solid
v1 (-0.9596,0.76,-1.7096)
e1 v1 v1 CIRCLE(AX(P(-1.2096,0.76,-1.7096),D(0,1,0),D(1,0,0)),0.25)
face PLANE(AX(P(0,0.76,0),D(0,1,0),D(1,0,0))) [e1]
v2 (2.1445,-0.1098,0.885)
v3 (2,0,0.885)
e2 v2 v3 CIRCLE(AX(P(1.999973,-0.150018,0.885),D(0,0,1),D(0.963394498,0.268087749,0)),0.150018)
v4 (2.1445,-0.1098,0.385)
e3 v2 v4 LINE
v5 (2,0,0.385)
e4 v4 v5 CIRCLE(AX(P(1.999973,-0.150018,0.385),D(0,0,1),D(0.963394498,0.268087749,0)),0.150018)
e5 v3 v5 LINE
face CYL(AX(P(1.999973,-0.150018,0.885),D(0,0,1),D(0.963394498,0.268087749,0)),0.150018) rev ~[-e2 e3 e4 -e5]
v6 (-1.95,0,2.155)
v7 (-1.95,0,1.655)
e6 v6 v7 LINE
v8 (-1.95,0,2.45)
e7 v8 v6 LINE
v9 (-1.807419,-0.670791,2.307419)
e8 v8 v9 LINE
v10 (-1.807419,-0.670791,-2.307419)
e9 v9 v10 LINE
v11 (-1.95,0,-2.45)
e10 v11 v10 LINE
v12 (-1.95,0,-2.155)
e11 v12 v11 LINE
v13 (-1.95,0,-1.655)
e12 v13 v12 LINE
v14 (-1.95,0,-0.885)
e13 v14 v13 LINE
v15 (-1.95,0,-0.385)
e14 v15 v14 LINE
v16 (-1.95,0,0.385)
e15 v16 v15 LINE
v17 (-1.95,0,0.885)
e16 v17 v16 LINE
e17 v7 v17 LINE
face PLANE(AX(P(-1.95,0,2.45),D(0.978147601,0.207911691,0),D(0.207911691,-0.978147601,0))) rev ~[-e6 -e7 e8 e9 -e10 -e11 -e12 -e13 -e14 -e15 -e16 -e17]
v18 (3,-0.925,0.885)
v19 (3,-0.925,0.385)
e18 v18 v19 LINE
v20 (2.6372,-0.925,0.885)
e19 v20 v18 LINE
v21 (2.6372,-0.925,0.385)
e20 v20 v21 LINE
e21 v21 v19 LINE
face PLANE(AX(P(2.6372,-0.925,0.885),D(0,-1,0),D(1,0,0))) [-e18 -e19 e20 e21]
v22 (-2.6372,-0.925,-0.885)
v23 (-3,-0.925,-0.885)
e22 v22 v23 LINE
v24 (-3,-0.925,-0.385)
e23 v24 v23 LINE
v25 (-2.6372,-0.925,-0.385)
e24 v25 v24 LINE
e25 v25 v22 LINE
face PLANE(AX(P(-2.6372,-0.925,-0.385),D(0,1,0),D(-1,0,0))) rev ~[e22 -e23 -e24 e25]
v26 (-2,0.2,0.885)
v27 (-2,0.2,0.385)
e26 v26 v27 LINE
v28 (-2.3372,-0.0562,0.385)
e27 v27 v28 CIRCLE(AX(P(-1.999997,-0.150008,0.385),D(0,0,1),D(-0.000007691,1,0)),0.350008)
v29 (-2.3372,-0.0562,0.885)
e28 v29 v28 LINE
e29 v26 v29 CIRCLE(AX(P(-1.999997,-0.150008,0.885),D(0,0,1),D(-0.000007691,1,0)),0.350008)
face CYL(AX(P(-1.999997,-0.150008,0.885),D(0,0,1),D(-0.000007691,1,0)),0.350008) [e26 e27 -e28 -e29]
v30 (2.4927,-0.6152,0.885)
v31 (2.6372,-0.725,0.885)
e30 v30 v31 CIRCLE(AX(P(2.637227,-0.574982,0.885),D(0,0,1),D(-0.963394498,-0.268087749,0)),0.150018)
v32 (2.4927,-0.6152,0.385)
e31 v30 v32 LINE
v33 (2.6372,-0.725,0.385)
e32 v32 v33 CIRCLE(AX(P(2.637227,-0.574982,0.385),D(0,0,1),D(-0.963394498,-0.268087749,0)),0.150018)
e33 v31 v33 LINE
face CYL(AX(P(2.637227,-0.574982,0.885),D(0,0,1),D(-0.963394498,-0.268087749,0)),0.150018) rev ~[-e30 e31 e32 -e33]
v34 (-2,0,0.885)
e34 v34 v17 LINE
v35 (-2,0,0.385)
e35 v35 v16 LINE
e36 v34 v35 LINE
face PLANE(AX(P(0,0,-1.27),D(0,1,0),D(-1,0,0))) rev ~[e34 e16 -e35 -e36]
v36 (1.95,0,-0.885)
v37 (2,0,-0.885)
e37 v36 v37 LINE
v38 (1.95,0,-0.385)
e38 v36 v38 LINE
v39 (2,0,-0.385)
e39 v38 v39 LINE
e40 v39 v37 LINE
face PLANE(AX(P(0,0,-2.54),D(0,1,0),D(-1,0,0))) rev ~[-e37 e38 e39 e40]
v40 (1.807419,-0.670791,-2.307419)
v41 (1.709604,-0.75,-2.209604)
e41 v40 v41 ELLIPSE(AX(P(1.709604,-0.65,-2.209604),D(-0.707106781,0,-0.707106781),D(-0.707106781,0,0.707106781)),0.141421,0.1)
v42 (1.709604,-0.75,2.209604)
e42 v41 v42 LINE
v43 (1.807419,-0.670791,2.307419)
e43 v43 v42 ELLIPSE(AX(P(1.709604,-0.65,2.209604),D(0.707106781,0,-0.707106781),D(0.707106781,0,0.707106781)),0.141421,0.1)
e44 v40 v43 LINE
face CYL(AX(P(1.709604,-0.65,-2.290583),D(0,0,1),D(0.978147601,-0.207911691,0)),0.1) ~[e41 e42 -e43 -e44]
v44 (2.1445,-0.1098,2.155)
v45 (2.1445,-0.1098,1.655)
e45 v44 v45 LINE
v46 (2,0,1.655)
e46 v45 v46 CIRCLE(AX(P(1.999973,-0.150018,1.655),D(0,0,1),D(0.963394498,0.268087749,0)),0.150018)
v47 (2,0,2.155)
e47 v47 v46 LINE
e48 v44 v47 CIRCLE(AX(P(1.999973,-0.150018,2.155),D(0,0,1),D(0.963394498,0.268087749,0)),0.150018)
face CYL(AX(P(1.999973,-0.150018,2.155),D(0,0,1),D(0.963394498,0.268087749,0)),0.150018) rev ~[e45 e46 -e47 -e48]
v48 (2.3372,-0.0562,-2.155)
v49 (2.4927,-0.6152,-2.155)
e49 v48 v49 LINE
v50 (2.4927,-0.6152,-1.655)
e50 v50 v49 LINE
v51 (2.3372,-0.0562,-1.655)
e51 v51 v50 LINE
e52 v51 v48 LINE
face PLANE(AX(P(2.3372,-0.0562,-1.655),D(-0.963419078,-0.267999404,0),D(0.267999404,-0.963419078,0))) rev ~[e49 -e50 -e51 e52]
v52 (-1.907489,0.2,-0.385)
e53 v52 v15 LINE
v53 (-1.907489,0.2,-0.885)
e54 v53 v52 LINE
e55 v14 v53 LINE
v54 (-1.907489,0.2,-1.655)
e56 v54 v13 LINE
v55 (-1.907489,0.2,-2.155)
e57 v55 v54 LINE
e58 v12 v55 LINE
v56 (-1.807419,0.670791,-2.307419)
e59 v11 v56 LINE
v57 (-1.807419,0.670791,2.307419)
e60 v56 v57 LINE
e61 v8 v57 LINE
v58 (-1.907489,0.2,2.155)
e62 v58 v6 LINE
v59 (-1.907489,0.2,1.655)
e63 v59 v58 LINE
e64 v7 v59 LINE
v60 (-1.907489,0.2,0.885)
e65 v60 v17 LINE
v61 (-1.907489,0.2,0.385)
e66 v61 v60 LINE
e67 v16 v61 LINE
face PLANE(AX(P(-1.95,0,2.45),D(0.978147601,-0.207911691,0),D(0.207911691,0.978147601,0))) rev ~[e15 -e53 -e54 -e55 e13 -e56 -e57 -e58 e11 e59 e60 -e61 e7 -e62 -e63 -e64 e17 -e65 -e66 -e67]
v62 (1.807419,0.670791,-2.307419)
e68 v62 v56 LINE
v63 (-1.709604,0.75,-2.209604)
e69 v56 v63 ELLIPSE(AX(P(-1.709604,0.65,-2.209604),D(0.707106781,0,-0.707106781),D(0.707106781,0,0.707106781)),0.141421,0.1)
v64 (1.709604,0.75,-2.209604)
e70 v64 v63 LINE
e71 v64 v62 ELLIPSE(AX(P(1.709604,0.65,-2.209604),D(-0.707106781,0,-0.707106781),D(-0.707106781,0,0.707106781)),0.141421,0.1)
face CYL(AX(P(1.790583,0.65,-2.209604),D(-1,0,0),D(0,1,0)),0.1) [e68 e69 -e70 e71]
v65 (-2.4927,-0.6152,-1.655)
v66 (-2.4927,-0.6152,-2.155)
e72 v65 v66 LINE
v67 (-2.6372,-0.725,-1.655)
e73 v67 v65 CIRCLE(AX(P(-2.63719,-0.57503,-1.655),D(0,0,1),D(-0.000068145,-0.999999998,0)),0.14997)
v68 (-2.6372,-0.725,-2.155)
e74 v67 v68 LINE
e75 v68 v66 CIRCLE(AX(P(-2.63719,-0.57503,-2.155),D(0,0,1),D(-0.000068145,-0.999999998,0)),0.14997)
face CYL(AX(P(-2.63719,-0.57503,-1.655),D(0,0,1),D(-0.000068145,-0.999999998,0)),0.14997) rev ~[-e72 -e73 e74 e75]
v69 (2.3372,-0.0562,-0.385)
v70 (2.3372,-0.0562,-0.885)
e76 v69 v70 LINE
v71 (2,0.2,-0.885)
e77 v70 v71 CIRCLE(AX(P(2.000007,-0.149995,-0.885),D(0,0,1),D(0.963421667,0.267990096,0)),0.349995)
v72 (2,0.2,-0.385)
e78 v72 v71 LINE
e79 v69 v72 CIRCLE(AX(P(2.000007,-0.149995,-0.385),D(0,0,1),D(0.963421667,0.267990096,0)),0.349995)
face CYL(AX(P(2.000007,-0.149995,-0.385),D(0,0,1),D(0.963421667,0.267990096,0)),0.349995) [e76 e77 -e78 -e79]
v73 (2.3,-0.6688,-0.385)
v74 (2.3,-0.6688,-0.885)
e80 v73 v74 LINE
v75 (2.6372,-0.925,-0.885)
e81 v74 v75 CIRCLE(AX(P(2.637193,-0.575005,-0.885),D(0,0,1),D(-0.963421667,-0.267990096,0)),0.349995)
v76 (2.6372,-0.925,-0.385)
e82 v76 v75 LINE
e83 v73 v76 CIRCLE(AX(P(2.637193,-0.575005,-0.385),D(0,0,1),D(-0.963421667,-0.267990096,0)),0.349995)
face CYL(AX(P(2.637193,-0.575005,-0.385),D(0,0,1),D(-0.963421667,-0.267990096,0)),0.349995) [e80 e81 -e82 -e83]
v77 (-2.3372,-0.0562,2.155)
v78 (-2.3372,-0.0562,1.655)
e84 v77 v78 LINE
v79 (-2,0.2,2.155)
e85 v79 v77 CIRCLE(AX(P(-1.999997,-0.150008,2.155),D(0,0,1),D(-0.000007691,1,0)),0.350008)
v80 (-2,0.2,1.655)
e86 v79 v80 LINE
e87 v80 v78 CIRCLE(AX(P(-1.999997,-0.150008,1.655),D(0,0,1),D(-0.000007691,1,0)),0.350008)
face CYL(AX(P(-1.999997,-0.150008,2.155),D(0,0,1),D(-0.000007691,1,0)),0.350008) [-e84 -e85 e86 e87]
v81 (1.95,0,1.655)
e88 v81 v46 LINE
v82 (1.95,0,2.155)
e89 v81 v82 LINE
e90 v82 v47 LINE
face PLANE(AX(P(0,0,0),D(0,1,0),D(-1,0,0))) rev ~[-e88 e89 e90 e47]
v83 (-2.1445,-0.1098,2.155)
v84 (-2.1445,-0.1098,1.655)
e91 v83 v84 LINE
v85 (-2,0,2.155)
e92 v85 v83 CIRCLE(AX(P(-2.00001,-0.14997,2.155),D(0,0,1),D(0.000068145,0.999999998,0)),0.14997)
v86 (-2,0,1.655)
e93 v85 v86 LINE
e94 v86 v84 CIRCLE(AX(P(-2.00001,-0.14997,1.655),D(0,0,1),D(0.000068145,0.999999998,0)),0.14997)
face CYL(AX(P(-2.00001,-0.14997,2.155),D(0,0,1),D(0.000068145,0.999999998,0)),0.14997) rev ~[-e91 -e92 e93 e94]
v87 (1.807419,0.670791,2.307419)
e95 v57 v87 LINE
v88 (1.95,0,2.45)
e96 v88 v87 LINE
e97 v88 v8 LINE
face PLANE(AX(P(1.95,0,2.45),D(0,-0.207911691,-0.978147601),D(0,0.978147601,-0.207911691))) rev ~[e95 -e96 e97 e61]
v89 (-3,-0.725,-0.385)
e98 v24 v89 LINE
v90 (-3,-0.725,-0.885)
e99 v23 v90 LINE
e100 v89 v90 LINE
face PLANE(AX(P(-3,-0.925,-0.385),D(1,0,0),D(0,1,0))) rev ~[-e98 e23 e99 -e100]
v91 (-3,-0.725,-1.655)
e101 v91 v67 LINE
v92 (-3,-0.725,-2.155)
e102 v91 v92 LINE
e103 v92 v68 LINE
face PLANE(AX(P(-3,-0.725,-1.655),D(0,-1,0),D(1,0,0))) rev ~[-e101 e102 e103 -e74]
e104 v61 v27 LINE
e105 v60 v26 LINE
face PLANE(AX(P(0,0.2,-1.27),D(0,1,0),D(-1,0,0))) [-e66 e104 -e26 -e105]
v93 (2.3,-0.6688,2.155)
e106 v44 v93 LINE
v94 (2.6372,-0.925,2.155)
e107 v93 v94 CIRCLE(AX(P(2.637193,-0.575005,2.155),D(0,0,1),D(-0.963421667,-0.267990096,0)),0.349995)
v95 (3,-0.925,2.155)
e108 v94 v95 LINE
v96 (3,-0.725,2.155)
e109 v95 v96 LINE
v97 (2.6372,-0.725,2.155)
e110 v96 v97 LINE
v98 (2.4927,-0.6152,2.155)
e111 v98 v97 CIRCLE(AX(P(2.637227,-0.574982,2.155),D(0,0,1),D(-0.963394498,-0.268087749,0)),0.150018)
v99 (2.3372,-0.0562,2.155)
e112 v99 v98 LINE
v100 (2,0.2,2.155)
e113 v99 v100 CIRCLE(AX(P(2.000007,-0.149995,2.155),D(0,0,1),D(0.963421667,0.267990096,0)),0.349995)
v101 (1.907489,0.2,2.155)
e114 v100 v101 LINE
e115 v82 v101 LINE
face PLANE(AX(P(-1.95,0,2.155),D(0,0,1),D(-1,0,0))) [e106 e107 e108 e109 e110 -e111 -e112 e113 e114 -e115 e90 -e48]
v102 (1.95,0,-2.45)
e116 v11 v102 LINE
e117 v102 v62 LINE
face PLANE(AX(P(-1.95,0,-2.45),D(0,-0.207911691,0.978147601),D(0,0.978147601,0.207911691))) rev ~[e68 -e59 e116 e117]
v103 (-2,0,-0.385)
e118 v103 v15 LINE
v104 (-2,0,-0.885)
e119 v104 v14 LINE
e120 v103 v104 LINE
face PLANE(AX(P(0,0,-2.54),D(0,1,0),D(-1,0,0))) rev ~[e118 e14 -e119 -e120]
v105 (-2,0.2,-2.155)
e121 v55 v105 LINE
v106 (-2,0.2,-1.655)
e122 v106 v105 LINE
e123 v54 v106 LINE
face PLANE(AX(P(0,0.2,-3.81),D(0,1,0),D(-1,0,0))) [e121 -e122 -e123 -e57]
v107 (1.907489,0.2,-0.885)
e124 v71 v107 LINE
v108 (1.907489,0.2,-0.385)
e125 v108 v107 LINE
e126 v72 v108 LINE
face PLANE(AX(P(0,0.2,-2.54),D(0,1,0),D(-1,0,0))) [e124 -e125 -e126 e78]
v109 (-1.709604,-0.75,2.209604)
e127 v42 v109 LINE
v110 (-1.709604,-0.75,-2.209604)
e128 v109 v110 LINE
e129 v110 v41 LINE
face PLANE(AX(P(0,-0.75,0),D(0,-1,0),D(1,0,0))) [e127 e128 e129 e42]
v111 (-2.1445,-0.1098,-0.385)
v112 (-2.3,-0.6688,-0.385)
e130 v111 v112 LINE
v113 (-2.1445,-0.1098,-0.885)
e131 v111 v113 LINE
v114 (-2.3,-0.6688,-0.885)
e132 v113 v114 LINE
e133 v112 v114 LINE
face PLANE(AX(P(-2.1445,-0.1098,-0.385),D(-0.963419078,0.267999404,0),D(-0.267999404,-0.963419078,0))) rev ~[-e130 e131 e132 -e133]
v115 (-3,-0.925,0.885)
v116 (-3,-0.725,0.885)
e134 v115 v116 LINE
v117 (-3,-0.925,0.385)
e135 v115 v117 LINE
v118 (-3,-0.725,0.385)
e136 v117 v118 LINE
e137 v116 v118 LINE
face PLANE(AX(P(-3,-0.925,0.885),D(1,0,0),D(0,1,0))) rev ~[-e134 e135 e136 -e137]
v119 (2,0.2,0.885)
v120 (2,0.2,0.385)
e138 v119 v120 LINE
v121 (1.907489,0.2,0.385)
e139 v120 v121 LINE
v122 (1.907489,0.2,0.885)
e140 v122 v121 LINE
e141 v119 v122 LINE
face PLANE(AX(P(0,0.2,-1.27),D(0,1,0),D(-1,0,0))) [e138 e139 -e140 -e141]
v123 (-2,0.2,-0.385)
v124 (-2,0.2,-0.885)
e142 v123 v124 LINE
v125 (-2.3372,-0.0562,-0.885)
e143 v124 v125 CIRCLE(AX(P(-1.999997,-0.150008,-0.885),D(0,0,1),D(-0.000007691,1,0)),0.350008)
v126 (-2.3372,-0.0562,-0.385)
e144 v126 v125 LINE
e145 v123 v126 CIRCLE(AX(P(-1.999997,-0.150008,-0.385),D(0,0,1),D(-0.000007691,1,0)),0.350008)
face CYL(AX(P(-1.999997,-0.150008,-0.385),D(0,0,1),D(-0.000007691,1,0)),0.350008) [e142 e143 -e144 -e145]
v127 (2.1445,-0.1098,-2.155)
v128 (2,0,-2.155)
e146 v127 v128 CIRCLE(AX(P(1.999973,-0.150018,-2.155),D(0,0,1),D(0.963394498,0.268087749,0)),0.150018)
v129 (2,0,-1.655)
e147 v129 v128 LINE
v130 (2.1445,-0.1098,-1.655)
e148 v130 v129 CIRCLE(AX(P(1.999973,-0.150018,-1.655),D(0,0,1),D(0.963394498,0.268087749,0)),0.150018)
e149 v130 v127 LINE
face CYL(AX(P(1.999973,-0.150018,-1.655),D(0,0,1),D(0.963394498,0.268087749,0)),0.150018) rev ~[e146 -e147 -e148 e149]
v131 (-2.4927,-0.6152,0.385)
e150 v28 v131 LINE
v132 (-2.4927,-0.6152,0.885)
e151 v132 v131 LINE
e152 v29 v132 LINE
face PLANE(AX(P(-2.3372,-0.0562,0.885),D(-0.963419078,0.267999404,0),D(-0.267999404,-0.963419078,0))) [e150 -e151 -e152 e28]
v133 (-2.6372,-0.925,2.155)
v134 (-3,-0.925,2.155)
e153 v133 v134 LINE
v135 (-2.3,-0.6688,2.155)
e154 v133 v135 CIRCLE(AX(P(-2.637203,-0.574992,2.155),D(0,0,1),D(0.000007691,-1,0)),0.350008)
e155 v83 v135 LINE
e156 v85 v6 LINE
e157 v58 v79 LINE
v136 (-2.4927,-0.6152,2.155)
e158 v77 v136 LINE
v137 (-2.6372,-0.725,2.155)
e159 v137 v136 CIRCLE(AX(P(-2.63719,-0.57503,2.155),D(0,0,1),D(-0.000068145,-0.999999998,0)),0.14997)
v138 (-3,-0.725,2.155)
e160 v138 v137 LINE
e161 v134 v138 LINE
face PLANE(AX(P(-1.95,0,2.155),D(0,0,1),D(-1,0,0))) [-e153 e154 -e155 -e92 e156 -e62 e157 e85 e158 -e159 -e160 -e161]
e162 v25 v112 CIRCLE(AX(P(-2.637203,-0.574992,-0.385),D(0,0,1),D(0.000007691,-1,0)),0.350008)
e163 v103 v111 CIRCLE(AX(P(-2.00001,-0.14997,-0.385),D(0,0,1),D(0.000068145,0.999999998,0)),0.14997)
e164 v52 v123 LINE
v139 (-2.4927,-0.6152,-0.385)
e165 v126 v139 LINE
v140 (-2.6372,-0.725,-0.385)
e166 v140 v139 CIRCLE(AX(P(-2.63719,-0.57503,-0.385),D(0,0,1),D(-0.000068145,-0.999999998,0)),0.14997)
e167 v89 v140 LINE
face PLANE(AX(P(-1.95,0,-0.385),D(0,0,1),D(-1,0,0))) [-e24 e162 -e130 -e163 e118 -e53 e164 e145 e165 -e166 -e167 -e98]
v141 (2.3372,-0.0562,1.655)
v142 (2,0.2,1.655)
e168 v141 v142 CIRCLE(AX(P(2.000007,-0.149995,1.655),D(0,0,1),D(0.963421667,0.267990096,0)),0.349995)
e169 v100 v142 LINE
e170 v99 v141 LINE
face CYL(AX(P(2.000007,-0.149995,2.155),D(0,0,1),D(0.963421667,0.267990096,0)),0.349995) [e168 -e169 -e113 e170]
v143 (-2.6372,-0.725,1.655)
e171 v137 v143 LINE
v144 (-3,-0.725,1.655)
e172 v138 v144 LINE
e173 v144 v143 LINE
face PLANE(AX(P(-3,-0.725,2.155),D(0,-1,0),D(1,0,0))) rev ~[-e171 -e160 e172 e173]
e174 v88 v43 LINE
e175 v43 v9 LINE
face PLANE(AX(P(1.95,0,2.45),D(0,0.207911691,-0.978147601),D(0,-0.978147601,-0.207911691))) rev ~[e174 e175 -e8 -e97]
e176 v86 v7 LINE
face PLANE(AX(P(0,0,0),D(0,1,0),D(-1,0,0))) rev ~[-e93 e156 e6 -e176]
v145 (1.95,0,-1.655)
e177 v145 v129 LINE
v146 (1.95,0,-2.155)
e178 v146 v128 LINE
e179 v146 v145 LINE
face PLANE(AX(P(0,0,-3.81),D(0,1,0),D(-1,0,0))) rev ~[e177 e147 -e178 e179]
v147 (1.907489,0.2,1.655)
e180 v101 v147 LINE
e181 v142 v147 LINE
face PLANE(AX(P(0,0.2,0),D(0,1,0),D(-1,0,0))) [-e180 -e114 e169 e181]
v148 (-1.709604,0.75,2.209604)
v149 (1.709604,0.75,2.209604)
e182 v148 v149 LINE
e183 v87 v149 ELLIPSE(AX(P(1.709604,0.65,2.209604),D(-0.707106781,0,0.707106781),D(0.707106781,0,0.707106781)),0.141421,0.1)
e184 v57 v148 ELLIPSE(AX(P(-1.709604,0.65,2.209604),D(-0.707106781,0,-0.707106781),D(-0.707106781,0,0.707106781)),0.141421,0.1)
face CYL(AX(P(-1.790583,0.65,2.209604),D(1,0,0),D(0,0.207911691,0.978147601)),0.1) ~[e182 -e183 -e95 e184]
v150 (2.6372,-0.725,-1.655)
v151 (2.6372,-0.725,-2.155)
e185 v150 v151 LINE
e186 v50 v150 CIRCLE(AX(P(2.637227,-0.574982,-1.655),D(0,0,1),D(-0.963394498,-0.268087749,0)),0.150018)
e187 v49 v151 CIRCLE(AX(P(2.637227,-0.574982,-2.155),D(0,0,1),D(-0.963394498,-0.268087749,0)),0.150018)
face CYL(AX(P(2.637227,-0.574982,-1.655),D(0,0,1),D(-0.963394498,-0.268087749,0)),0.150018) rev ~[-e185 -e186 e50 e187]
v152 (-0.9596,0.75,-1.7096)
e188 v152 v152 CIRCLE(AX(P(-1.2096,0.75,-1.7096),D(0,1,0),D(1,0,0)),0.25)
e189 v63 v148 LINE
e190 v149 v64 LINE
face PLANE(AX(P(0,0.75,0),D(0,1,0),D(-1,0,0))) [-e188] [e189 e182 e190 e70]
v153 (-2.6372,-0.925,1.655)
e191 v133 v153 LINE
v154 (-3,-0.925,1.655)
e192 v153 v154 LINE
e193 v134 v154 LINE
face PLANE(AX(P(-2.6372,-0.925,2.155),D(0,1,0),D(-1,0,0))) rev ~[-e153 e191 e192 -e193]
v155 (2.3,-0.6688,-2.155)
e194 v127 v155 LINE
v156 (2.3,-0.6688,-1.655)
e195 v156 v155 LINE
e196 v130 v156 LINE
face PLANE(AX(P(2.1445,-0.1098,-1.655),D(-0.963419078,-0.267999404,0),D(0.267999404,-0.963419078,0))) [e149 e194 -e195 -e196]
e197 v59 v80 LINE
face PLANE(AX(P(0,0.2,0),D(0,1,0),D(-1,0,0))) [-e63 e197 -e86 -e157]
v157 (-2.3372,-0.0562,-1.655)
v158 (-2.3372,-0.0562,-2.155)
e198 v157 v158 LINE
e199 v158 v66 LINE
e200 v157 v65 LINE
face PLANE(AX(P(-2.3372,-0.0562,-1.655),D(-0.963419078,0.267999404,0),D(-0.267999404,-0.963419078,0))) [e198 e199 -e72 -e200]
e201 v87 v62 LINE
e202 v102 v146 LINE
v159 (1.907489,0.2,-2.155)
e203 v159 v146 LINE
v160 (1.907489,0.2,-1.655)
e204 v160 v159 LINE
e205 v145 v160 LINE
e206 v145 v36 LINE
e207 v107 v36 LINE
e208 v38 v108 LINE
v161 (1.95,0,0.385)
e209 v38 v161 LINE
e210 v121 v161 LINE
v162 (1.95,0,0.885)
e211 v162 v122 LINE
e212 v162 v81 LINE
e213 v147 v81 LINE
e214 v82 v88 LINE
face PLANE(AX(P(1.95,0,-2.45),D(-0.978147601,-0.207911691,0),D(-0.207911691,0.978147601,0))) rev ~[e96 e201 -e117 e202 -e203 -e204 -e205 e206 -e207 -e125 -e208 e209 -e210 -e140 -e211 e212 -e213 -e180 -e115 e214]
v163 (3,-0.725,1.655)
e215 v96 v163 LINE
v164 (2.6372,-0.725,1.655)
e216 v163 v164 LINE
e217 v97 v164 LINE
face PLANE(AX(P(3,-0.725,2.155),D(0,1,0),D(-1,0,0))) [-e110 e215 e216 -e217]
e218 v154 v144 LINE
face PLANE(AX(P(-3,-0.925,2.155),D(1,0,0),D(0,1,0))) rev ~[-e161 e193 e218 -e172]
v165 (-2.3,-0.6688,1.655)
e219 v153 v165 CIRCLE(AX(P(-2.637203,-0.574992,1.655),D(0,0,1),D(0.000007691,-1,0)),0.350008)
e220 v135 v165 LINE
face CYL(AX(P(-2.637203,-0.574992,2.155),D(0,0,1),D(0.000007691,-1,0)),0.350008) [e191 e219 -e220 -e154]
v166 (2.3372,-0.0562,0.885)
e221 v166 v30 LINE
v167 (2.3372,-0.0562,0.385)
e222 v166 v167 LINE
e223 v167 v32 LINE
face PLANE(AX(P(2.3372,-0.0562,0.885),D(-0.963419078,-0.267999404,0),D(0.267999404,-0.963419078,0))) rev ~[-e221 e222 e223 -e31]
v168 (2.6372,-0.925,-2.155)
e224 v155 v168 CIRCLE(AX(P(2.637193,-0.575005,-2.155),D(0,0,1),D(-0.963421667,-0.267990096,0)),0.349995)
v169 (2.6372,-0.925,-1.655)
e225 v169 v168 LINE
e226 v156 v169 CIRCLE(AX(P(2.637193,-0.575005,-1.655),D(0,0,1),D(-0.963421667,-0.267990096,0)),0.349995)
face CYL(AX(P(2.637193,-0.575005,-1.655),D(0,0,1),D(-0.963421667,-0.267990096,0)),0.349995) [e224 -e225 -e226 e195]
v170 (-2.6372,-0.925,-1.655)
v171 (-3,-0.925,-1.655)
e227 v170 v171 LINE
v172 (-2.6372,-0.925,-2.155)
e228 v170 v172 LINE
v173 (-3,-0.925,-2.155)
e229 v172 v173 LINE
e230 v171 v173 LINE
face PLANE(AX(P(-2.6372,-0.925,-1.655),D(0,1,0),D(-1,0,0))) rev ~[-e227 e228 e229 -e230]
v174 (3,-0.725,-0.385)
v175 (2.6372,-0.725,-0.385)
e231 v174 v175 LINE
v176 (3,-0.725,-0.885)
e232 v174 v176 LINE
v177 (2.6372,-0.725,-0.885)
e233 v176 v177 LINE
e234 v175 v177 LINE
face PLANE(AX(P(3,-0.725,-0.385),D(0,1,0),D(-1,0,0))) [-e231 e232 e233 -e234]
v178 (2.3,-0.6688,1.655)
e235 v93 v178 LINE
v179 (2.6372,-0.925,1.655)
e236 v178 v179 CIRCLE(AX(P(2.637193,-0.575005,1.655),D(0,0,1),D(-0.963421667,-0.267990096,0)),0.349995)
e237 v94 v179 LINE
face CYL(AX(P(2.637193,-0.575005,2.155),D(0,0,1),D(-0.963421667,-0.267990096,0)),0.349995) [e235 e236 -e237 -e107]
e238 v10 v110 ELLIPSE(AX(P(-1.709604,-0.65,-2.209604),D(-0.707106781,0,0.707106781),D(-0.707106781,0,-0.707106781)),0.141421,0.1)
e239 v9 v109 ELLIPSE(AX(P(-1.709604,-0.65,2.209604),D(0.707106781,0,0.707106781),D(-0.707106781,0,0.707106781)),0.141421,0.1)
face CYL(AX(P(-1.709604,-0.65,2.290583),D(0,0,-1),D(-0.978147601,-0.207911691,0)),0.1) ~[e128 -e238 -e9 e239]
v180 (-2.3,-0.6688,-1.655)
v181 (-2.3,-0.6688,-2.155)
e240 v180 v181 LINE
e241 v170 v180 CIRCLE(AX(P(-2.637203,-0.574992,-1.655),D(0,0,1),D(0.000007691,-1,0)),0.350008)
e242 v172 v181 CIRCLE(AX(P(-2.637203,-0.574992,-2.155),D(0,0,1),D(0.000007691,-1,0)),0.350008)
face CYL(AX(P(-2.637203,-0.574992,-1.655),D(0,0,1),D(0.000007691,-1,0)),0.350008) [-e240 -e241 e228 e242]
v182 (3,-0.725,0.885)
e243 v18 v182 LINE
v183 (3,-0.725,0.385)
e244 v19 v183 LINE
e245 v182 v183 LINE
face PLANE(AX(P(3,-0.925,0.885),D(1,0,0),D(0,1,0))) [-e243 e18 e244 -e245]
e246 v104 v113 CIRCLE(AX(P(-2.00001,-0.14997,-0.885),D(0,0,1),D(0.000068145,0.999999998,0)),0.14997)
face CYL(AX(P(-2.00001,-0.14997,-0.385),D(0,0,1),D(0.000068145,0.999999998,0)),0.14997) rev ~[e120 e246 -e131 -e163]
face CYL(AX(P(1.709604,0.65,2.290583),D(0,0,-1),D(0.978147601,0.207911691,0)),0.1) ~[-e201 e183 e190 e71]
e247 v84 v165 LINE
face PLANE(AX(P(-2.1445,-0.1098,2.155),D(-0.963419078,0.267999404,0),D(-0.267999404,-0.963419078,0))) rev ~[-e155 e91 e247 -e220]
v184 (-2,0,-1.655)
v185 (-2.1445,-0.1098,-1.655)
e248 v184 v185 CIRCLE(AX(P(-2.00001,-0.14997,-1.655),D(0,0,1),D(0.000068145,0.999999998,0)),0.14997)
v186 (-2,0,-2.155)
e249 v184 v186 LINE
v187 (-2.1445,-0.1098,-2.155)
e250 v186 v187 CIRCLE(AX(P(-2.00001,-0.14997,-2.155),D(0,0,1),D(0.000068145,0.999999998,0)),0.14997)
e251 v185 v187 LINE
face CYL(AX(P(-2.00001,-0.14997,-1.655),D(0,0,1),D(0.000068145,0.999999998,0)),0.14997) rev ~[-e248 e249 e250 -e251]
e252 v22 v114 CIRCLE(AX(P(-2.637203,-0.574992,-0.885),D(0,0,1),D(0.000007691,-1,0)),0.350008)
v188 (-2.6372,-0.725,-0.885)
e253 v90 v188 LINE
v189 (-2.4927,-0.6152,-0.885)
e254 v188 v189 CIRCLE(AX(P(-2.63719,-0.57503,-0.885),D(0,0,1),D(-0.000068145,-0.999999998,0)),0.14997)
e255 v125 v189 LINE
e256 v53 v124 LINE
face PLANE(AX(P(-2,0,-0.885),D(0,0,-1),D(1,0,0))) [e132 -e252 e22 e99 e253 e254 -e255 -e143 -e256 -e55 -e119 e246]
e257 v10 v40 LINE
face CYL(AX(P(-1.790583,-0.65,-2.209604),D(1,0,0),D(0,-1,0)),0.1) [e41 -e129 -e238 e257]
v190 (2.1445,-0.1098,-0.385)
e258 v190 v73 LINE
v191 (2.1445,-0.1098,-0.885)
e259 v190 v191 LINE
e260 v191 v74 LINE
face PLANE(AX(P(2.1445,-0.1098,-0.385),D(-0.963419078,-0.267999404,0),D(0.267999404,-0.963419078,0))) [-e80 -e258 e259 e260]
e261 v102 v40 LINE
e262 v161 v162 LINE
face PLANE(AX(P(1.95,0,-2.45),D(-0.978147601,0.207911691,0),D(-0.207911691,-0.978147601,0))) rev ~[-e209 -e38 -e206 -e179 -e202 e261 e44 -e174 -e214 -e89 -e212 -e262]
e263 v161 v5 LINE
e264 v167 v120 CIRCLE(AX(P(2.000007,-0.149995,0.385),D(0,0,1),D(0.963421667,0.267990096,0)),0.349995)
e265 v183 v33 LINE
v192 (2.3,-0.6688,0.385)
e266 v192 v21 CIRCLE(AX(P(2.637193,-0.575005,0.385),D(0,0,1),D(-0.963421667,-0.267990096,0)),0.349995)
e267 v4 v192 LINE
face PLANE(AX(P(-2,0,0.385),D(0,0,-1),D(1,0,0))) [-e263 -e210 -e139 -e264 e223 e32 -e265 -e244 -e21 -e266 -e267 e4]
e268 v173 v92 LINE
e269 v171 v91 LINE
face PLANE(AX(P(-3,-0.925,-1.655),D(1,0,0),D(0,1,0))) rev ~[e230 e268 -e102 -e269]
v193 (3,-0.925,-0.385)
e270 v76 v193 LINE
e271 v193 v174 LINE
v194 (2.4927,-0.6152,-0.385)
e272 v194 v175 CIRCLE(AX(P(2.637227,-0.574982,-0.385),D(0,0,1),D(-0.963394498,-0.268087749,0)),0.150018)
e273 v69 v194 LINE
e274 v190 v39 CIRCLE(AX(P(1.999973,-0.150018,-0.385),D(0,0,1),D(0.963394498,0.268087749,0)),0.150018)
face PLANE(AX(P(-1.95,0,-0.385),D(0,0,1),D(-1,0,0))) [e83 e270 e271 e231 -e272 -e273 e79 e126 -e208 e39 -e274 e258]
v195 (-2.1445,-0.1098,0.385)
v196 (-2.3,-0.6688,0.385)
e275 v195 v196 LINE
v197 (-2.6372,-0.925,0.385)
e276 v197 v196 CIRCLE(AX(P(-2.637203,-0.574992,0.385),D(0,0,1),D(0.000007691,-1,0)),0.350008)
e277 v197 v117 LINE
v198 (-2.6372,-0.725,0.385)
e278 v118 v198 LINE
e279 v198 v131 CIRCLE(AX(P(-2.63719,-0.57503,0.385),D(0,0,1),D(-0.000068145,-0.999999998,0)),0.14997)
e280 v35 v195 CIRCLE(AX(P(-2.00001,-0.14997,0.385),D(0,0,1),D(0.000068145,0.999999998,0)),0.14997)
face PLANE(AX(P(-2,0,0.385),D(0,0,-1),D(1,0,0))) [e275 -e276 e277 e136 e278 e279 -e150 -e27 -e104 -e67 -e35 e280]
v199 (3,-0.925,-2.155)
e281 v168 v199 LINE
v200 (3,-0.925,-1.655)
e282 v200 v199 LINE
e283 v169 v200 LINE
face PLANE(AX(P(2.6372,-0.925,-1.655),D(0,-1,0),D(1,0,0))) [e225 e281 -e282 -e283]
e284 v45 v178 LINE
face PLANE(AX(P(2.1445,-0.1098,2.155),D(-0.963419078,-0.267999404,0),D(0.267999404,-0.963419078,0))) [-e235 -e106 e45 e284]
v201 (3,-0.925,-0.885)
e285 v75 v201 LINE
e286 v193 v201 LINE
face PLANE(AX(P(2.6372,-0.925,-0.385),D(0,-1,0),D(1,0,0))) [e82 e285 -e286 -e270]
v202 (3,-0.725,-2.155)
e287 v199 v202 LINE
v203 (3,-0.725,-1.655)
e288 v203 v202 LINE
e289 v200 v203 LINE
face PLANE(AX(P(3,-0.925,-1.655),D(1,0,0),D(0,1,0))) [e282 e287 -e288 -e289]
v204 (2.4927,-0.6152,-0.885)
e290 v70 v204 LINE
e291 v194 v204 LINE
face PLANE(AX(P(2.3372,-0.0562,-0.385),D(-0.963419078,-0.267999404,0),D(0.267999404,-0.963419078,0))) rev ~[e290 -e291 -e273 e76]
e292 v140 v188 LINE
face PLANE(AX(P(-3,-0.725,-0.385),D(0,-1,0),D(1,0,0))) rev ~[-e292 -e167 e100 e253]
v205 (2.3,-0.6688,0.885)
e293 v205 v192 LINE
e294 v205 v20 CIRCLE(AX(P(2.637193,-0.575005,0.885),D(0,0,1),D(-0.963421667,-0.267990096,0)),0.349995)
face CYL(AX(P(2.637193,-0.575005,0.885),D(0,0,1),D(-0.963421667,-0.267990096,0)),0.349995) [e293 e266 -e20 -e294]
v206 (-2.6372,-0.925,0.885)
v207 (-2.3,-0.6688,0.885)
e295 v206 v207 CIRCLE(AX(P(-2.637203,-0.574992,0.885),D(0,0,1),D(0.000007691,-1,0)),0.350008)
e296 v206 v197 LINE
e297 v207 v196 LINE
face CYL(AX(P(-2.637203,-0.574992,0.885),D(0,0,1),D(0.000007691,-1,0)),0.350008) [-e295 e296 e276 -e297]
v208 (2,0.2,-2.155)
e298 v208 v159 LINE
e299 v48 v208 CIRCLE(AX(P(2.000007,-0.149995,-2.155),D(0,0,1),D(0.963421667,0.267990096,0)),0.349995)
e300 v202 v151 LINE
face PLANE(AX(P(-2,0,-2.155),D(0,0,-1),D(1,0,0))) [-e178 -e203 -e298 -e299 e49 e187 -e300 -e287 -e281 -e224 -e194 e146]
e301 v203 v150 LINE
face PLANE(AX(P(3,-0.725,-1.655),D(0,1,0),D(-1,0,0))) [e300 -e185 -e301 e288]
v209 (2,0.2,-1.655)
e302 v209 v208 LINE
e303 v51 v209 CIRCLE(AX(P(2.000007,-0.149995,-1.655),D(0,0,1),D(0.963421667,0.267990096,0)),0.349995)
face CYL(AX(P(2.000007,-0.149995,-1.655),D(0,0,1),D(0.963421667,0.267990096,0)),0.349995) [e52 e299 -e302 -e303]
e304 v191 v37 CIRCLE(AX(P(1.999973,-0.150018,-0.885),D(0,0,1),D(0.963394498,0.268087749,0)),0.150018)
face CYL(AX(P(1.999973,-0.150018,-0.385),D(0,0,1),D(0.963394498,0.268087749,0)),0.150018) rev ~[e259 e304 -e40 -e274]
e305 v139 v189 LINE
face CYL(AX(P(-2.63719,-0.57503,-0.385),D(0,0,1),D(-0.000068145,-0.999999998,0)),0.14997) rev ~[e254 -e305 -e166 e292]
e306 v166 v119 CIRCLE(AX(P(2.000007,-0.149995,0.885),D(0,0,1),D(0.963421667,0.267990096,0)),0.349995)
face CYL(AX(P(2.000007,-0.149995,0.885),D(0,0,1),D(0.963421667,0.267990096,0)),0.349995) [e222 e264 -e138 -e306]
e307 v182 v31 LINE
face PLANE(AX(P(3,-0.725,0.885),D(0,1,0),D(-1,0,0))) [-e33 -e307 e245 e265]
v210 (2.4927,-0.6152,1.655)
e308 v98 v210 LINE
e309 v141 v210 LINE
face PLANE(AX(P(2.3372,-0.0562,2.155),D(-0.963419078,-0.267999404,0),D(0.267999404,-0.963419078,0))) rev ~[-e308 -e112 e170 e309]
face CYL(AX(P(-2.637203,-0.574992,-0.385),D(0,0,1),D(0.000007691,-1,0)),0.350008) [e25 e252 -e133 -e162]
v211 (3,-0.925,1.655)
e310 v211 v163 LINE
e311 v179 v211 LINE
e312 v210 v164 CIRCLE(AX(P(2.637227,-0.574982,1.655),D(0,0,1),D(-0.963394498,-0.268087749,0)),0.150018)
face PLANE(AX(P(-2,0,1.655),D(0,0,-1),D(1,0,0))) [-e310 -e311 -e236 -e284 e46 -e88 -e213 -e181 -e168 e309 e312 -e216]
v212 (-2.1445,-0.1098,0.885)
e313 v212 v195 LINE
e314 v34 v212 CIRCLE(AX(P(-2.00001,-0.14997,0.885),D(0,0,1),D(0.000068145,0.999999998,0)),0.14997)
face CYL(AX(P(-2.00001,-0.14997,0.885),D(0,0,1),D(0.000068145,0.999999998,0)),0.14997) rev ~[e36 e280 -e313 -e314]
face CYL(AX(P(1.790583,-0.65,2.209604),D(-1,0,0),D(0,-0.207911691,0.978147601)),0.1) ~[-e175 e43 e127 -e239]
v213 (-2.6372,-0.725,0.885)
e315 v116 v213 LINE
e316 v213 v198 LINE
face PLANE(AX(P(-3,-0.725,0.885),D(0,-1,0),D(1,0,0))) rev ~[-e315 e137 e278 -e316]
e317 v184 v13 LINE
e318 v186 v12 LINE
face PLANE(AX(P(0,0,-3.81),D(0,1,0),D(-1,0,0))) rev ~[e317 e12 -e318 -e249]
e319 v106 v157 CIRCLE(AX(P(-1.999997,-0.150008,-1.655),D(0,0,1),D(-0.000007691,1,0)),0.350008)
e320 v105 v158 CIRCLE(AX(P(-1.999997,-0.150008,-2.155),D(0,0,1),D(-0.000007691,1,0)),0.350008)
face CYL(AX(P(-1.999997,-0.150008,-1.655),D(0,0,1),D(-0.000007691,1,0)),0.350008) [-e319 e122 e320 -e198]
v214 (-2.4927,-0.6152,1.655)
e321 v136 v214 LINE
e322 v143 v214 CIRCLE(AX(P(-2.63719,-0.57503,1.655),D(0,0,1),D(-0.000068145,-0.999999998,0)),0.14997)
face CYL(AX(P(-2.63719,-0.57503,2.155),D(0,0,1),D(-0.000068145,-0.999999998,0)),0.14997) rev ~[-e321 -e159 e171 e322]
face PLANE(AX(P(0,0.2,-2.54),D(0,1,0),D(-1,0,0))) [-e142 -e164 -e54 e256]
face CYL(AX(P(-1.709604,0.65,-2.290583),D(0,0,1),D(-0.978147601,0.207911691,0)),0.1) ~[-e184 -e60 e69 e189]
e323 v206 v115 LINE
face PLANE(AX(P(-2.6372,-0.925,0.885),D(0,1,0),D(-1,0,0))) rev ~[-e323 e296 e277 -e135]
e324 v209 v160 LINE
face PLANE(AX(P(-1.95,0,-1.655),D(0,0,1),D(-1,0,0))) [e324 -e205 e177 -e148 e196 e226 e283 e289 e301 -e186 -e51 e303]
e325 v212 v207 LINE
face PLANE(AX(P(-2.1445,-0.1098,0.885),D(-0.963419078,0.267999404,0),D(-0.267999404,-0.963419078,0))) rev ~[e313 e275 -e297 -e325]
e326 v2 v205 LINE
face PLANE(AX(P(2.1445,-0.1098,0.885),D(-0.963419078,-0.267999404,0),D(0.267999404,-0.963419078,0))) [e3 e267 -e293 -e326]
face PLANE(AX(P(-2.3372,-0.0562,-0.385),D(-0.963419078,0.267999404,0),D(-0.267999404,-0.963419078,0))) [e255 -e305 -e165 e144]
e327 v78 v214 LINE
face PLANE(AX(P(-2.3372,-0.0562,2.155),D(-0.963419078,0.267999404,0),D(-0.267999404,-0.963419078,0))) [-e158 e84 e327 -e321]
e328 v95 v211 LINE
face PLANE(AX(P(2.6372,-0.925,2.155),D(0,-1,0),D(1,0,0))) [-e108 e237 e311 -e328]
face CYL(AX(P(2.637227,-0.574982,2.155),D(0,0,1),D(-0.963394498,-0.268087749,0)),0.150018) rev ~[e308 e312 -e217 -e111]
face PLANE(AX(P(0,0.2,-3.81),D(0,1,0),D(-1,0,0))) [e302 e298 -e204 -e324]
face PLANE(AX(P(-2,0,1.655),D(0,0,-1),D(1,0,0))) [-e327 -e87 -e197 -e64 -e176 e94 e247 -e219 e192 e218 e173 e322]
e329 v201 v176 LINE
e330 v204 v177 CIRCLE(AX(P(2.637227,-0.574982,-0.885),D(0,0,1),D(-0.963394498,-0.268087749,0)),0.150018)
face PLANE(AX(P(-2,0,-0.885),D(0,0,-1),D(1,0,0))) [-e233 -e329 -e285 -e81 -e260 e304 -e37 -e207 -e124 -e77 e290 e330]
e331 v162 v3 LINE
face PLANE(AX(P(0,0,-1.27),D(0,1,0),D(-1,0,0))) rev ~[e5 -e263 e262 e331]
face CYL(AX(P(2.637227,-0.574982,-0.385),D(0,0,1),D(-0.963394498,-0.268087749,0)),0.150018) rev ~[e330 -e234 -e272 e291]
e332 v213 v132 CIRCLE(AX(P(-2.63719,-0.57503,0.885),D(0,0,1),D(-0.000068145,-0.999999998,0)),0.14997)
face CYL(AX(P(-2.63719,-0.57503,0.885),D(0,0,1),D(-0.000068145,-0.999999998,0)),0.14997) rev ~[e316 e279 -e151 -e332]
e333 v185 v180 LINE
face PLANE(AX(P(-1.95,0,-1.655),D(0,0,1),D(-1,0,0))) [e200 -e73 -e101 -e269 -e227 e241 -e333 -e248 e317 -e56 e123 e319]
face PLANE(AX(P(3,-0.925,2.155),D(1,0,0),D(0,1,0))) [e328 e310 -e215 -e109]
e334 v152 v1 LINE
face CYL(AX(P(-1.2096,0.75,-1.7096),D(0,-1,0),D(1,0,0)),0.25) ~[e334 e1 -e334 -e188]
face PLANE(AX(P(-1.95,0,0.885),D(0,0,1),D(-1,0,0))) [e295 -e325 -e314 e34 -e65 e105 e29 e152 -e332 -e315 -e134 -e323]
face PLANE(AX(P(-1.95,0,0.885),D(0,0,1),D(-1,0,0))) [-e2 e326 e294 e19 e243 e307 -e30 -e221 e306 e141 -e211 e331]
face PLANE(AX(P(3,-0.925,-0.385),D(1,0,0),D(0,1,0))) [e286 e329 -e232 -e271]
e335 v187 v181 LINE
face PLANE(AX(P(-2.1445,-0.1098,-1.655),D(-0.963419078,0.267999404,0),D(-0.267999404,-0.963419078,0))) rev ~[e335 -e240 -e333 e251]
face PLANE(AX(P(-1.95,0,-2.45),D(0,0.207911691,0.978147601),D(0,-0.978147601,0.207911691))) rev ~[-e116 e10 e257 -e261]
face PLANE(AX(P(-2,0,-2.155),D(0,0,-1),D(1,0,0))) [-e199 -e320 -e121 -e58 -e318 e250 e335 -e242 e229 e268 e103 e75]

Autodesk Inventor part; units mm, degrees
ref_plane "YZ Plane" through (0, 0, 0) normal (1, 0, 0) x (0, 1, 0)
ref_plane "XZ Plane" through (0, 0, 0) normal (0, 1, 0) x (-1, 0, 0)
ref_plane "XY Plane" through (0, 0, 0) normal (0, 0, 1) x (1, 0, 0)
sketch "Sketch1" plane through (0, 0, 0) normal (0, 1, 0) x (-1, 0, 0)
  line L0 (-1.95, 2.45) -> (1.95, 2.45)
  line L1 (1.95, 2.45) -> (1.95, -2.45)
  line L2 (1.95, -2.45) -> (-1.95, -2.45)
  line L3 (-1.95, -2.45) -> (-1.95, 2.45)
  line L4 (-1.95, 2.45) -> (1.95, -2.45) construction
  line L5 (1.95, 2.45) -> (-1.95, -2.45) construction
  point P0 (0, 0)
  dimension "d0" = 3.9
  dimension "d1" = 4.9
extrude "Extrusion1" add sketch "Sketch1" along normal blind 0.75 draft -12
sketch "Sketch2" plane through (0, 0, 0) normal (0, -1, 0) x (1, 0, 0)
  line L0 (1.95, 2.45) -> (-1.95, 2.45) projected
  line L1 (1.95, 2.45) -> (-1.95, 2.45) projected
  line L2 (-1.95, 2.45) -> (-1.95, -2.45) projected
  line L3 (-1.95, -2.45) -> (1.95, -2.45) projected
  line L4 (1.95, -2.45) -> (1.95, 2.45) projected
  point P0 (0, 0)
extrude "Extrusion2" add sketch "Sketch2" along normal blind 0.75 draft -12
fillet "Fillet1" radius 0.1 8 edges at (-1.7906, 0.75, 0) (0, 0.75, 2.2906) (0, 0.75, -2.2906) (1.7906, 0.75, 0) (1.7906, -0.75, 0) (0, -0.75, 2.2906) (-1.7906, -0.75, 0) (0, -0.75, -2.2906)
sketch "Sketch3" plane through (0, 0, 0) normal (0, 1, 0) x (-1, 0, 0)
  line L0 (1.95, 2.45) -> (1.95, -2.45) projected
  line L1 (-1.95, 2.45) -> (1.95, 2.45) projected
  line L2 (1.95, 2.155) -> (2, 2.155)
  line L3 (2, 2.155) -> (2, 1.655)
  line L4 (2, 1.655) -> (1.95, 1.655)
  line L5 (1.95, 1.655) -> (1.95, 2.155)
  line L6 (-1.95, -2.45) -> (-1.95, 2.45) projected
  line L7 (-1.95, 2.155) -> (-2, 2.155)
  line L8 (-2, 2.155) -> (-2, 1.655)
  line L9 (-2, 1.655) -> (-1.95, 1.655)
  line L10 (-1.95, 1.655) -> (-1.95, 2.155)
  line L11 (-1.95, 1.655) -> (1.95, 1.655)
  line L12 (1.95, 1.655) -> (1.95, 2.155)
  line L13 (1.95, 2.155) -> (-1.95, 2.155)
  line L14 (-1.95, 2.155) -> (-1.95, 1.655)
  point P0 (0, 0)
  point P1 (1.95, 1.905)
  dimension "d7" = 0.5
  dimension "d8" = 1.905
  dimension "d9" = 0.05
extrude "Extrusion3" add sketch "Sketch3" along normal blind 0.2 contours L2 L3 L4 L0 | L0 L11 L6 L13 | L6 L9 L8 L7
sketch "Sketch4" plane through (-2, 0, 2.155) normal (0, 0, 1) x (1, 0, 0)
  line L0 (0.0925, 0.2) -> (0.05, 0) projected
  line L1 (0, 0.2) -> (0.0925, 0.2) projected
  line L2 (0, 0) -> (0, 0.2) projected
  line L3 (0, 0) -> (0.05, 0) projected
  line L4 (3.95, 0) -> (3.9075, 0.2) projected
  line L5 (3.95, 0) -> (4, 0) projected
  line L6 (4, 0) -> (4, 0.2) projected
  line L7 (3.9075, 0.2) -> (4, 0.2) projected
  line L8 (0, 0) -> (0.05, 0) projected
  arc A0 (0, 0) -> (-0.1445, -0.1098) centre (0, -0.15) ccw
  arc A1 (-0.6372, -0.925) -> (-0.3, -0.6688) centre (-0.6372, -0.575) ccw
  line L9 (0, 0.2) -> (0.0925, 0.2) projected
  arc A2 (0, 0.2) -> (-0.3372, -0.0562) centre (0, -0.15) ccw
  arc A3 (-0.6372, -0.725) -> (-0.4927, -0.6152) centre (-0.6372, -0.575) ccw
  line L10 (-0.6372, -0.925) -> (-1, -0.925)
  line L11 (-1, -0.925) -> (-1, -0.725)
  line L12 (-1, -0.725) -> (-0.6372, -0.725)
  line L13 (-0.3372, -0.0562) -> (-0.4927, -0.6152)
  line L14 (-0.1445, -0.1098) -> (-0.3, -0.6688)
  line L15 (3.7096, -0.75) -> (0.2904, -0.75) projected
  line L16 (0, 0.2) -> (0, 0)
  line L17 (0.2904, 0.75) -> (3.7096, 0.75) projected
  line L18 (2, 0.75) -> (2, -0.75)
  line L19 (4, 0) -> (4, 0.2)
  arc A4 (4.1445, -0.1098) -> (4, 0) centre (4, -0.15) ccw
  arc A5 (4.3, -0.6688) -> (4.6372, -0.925) centre (4.6372, -0.575) ccw
  arc A6 (4.3372, -0.0562) -> (4, 0.2) centre (4, -0.15) ccw
  arc A7 (4.4927, -0.6152) -> (4.6372, -0.725) centre (4.6372, -0.575) ccw
  line L20 (4.6372, -0.925) -> (5, -0.925)
  line L21 (5, -0.925) -> (5, -0.725)
  line L22 (5, -0.725) -> (4.6372, -0.725)
  line L23 (4.3372, -0.0562) -> (4.4927, -0.6152)
  line L24 (4.1445, -0.1098) -> (4.3, -0.6688)
  point P0 (2, 0)
  dimension "d12" = 0.15
  dimension "d13" = 0.15
  dimension "d16" = 0.7
  dimension "d17" = 0.175
  dimension "d25" = 6
extrude "Extrusion4" add sketch "Sketch4" against normal up to surface (0.5 mm away) contours L2 A0 L14 A1 L10 L11 L12 A3 L13 A2 | L6 A6 L23 A7 L22 L21 L20 A5 L24 A4
pattern_linear "Rectangular Pattern1" count 4 spacing 1.27 along (0, 0, -1) of "Extrusion4", "Extrusion3"
sketch "Sketch5" plane through (0, 0.75, 0) normal (0, 1, 0) x (1, 0, 0)
  line L0 (1.7096, -2.2096) -> (-1.7096, -2.2096) projected
  line L1 (1.7096, 2.2096) -> (1.7096, -2.2096) projected
  line L2 (-1.7096, 2.2096) -> (1.7096, 2.2096) projected
  line L3 (-1.7096, -2.2096) -> (-1.7096, 2.2096) projected
  circle A0 centre (-1.2096, 1.7096) radius 0.25
  circle A1 centre (-1.2096, 1.7096) radius 0.5 construction
  line L4 (-1.7096, -2.2096) -> (-1.7096, 2.2096) projected
  line L5 (-1.7096, -2.2096) -> (1.7096, -2.2096) construction
  line L6 (-1.7096, 2.2096) -> (1.7096, 2.2096) construction
  point P0 (0, 0)
  dimension "d26" = 1
  dimension "d27" = 0.5
extrude "Extrusion5" add sketch "Sketch5" along normal blind 0.01 contours A0
equation "\"d13\" = d12"
properties part number "Semiconductor_SOIC-8" material "ABS Plastic"
